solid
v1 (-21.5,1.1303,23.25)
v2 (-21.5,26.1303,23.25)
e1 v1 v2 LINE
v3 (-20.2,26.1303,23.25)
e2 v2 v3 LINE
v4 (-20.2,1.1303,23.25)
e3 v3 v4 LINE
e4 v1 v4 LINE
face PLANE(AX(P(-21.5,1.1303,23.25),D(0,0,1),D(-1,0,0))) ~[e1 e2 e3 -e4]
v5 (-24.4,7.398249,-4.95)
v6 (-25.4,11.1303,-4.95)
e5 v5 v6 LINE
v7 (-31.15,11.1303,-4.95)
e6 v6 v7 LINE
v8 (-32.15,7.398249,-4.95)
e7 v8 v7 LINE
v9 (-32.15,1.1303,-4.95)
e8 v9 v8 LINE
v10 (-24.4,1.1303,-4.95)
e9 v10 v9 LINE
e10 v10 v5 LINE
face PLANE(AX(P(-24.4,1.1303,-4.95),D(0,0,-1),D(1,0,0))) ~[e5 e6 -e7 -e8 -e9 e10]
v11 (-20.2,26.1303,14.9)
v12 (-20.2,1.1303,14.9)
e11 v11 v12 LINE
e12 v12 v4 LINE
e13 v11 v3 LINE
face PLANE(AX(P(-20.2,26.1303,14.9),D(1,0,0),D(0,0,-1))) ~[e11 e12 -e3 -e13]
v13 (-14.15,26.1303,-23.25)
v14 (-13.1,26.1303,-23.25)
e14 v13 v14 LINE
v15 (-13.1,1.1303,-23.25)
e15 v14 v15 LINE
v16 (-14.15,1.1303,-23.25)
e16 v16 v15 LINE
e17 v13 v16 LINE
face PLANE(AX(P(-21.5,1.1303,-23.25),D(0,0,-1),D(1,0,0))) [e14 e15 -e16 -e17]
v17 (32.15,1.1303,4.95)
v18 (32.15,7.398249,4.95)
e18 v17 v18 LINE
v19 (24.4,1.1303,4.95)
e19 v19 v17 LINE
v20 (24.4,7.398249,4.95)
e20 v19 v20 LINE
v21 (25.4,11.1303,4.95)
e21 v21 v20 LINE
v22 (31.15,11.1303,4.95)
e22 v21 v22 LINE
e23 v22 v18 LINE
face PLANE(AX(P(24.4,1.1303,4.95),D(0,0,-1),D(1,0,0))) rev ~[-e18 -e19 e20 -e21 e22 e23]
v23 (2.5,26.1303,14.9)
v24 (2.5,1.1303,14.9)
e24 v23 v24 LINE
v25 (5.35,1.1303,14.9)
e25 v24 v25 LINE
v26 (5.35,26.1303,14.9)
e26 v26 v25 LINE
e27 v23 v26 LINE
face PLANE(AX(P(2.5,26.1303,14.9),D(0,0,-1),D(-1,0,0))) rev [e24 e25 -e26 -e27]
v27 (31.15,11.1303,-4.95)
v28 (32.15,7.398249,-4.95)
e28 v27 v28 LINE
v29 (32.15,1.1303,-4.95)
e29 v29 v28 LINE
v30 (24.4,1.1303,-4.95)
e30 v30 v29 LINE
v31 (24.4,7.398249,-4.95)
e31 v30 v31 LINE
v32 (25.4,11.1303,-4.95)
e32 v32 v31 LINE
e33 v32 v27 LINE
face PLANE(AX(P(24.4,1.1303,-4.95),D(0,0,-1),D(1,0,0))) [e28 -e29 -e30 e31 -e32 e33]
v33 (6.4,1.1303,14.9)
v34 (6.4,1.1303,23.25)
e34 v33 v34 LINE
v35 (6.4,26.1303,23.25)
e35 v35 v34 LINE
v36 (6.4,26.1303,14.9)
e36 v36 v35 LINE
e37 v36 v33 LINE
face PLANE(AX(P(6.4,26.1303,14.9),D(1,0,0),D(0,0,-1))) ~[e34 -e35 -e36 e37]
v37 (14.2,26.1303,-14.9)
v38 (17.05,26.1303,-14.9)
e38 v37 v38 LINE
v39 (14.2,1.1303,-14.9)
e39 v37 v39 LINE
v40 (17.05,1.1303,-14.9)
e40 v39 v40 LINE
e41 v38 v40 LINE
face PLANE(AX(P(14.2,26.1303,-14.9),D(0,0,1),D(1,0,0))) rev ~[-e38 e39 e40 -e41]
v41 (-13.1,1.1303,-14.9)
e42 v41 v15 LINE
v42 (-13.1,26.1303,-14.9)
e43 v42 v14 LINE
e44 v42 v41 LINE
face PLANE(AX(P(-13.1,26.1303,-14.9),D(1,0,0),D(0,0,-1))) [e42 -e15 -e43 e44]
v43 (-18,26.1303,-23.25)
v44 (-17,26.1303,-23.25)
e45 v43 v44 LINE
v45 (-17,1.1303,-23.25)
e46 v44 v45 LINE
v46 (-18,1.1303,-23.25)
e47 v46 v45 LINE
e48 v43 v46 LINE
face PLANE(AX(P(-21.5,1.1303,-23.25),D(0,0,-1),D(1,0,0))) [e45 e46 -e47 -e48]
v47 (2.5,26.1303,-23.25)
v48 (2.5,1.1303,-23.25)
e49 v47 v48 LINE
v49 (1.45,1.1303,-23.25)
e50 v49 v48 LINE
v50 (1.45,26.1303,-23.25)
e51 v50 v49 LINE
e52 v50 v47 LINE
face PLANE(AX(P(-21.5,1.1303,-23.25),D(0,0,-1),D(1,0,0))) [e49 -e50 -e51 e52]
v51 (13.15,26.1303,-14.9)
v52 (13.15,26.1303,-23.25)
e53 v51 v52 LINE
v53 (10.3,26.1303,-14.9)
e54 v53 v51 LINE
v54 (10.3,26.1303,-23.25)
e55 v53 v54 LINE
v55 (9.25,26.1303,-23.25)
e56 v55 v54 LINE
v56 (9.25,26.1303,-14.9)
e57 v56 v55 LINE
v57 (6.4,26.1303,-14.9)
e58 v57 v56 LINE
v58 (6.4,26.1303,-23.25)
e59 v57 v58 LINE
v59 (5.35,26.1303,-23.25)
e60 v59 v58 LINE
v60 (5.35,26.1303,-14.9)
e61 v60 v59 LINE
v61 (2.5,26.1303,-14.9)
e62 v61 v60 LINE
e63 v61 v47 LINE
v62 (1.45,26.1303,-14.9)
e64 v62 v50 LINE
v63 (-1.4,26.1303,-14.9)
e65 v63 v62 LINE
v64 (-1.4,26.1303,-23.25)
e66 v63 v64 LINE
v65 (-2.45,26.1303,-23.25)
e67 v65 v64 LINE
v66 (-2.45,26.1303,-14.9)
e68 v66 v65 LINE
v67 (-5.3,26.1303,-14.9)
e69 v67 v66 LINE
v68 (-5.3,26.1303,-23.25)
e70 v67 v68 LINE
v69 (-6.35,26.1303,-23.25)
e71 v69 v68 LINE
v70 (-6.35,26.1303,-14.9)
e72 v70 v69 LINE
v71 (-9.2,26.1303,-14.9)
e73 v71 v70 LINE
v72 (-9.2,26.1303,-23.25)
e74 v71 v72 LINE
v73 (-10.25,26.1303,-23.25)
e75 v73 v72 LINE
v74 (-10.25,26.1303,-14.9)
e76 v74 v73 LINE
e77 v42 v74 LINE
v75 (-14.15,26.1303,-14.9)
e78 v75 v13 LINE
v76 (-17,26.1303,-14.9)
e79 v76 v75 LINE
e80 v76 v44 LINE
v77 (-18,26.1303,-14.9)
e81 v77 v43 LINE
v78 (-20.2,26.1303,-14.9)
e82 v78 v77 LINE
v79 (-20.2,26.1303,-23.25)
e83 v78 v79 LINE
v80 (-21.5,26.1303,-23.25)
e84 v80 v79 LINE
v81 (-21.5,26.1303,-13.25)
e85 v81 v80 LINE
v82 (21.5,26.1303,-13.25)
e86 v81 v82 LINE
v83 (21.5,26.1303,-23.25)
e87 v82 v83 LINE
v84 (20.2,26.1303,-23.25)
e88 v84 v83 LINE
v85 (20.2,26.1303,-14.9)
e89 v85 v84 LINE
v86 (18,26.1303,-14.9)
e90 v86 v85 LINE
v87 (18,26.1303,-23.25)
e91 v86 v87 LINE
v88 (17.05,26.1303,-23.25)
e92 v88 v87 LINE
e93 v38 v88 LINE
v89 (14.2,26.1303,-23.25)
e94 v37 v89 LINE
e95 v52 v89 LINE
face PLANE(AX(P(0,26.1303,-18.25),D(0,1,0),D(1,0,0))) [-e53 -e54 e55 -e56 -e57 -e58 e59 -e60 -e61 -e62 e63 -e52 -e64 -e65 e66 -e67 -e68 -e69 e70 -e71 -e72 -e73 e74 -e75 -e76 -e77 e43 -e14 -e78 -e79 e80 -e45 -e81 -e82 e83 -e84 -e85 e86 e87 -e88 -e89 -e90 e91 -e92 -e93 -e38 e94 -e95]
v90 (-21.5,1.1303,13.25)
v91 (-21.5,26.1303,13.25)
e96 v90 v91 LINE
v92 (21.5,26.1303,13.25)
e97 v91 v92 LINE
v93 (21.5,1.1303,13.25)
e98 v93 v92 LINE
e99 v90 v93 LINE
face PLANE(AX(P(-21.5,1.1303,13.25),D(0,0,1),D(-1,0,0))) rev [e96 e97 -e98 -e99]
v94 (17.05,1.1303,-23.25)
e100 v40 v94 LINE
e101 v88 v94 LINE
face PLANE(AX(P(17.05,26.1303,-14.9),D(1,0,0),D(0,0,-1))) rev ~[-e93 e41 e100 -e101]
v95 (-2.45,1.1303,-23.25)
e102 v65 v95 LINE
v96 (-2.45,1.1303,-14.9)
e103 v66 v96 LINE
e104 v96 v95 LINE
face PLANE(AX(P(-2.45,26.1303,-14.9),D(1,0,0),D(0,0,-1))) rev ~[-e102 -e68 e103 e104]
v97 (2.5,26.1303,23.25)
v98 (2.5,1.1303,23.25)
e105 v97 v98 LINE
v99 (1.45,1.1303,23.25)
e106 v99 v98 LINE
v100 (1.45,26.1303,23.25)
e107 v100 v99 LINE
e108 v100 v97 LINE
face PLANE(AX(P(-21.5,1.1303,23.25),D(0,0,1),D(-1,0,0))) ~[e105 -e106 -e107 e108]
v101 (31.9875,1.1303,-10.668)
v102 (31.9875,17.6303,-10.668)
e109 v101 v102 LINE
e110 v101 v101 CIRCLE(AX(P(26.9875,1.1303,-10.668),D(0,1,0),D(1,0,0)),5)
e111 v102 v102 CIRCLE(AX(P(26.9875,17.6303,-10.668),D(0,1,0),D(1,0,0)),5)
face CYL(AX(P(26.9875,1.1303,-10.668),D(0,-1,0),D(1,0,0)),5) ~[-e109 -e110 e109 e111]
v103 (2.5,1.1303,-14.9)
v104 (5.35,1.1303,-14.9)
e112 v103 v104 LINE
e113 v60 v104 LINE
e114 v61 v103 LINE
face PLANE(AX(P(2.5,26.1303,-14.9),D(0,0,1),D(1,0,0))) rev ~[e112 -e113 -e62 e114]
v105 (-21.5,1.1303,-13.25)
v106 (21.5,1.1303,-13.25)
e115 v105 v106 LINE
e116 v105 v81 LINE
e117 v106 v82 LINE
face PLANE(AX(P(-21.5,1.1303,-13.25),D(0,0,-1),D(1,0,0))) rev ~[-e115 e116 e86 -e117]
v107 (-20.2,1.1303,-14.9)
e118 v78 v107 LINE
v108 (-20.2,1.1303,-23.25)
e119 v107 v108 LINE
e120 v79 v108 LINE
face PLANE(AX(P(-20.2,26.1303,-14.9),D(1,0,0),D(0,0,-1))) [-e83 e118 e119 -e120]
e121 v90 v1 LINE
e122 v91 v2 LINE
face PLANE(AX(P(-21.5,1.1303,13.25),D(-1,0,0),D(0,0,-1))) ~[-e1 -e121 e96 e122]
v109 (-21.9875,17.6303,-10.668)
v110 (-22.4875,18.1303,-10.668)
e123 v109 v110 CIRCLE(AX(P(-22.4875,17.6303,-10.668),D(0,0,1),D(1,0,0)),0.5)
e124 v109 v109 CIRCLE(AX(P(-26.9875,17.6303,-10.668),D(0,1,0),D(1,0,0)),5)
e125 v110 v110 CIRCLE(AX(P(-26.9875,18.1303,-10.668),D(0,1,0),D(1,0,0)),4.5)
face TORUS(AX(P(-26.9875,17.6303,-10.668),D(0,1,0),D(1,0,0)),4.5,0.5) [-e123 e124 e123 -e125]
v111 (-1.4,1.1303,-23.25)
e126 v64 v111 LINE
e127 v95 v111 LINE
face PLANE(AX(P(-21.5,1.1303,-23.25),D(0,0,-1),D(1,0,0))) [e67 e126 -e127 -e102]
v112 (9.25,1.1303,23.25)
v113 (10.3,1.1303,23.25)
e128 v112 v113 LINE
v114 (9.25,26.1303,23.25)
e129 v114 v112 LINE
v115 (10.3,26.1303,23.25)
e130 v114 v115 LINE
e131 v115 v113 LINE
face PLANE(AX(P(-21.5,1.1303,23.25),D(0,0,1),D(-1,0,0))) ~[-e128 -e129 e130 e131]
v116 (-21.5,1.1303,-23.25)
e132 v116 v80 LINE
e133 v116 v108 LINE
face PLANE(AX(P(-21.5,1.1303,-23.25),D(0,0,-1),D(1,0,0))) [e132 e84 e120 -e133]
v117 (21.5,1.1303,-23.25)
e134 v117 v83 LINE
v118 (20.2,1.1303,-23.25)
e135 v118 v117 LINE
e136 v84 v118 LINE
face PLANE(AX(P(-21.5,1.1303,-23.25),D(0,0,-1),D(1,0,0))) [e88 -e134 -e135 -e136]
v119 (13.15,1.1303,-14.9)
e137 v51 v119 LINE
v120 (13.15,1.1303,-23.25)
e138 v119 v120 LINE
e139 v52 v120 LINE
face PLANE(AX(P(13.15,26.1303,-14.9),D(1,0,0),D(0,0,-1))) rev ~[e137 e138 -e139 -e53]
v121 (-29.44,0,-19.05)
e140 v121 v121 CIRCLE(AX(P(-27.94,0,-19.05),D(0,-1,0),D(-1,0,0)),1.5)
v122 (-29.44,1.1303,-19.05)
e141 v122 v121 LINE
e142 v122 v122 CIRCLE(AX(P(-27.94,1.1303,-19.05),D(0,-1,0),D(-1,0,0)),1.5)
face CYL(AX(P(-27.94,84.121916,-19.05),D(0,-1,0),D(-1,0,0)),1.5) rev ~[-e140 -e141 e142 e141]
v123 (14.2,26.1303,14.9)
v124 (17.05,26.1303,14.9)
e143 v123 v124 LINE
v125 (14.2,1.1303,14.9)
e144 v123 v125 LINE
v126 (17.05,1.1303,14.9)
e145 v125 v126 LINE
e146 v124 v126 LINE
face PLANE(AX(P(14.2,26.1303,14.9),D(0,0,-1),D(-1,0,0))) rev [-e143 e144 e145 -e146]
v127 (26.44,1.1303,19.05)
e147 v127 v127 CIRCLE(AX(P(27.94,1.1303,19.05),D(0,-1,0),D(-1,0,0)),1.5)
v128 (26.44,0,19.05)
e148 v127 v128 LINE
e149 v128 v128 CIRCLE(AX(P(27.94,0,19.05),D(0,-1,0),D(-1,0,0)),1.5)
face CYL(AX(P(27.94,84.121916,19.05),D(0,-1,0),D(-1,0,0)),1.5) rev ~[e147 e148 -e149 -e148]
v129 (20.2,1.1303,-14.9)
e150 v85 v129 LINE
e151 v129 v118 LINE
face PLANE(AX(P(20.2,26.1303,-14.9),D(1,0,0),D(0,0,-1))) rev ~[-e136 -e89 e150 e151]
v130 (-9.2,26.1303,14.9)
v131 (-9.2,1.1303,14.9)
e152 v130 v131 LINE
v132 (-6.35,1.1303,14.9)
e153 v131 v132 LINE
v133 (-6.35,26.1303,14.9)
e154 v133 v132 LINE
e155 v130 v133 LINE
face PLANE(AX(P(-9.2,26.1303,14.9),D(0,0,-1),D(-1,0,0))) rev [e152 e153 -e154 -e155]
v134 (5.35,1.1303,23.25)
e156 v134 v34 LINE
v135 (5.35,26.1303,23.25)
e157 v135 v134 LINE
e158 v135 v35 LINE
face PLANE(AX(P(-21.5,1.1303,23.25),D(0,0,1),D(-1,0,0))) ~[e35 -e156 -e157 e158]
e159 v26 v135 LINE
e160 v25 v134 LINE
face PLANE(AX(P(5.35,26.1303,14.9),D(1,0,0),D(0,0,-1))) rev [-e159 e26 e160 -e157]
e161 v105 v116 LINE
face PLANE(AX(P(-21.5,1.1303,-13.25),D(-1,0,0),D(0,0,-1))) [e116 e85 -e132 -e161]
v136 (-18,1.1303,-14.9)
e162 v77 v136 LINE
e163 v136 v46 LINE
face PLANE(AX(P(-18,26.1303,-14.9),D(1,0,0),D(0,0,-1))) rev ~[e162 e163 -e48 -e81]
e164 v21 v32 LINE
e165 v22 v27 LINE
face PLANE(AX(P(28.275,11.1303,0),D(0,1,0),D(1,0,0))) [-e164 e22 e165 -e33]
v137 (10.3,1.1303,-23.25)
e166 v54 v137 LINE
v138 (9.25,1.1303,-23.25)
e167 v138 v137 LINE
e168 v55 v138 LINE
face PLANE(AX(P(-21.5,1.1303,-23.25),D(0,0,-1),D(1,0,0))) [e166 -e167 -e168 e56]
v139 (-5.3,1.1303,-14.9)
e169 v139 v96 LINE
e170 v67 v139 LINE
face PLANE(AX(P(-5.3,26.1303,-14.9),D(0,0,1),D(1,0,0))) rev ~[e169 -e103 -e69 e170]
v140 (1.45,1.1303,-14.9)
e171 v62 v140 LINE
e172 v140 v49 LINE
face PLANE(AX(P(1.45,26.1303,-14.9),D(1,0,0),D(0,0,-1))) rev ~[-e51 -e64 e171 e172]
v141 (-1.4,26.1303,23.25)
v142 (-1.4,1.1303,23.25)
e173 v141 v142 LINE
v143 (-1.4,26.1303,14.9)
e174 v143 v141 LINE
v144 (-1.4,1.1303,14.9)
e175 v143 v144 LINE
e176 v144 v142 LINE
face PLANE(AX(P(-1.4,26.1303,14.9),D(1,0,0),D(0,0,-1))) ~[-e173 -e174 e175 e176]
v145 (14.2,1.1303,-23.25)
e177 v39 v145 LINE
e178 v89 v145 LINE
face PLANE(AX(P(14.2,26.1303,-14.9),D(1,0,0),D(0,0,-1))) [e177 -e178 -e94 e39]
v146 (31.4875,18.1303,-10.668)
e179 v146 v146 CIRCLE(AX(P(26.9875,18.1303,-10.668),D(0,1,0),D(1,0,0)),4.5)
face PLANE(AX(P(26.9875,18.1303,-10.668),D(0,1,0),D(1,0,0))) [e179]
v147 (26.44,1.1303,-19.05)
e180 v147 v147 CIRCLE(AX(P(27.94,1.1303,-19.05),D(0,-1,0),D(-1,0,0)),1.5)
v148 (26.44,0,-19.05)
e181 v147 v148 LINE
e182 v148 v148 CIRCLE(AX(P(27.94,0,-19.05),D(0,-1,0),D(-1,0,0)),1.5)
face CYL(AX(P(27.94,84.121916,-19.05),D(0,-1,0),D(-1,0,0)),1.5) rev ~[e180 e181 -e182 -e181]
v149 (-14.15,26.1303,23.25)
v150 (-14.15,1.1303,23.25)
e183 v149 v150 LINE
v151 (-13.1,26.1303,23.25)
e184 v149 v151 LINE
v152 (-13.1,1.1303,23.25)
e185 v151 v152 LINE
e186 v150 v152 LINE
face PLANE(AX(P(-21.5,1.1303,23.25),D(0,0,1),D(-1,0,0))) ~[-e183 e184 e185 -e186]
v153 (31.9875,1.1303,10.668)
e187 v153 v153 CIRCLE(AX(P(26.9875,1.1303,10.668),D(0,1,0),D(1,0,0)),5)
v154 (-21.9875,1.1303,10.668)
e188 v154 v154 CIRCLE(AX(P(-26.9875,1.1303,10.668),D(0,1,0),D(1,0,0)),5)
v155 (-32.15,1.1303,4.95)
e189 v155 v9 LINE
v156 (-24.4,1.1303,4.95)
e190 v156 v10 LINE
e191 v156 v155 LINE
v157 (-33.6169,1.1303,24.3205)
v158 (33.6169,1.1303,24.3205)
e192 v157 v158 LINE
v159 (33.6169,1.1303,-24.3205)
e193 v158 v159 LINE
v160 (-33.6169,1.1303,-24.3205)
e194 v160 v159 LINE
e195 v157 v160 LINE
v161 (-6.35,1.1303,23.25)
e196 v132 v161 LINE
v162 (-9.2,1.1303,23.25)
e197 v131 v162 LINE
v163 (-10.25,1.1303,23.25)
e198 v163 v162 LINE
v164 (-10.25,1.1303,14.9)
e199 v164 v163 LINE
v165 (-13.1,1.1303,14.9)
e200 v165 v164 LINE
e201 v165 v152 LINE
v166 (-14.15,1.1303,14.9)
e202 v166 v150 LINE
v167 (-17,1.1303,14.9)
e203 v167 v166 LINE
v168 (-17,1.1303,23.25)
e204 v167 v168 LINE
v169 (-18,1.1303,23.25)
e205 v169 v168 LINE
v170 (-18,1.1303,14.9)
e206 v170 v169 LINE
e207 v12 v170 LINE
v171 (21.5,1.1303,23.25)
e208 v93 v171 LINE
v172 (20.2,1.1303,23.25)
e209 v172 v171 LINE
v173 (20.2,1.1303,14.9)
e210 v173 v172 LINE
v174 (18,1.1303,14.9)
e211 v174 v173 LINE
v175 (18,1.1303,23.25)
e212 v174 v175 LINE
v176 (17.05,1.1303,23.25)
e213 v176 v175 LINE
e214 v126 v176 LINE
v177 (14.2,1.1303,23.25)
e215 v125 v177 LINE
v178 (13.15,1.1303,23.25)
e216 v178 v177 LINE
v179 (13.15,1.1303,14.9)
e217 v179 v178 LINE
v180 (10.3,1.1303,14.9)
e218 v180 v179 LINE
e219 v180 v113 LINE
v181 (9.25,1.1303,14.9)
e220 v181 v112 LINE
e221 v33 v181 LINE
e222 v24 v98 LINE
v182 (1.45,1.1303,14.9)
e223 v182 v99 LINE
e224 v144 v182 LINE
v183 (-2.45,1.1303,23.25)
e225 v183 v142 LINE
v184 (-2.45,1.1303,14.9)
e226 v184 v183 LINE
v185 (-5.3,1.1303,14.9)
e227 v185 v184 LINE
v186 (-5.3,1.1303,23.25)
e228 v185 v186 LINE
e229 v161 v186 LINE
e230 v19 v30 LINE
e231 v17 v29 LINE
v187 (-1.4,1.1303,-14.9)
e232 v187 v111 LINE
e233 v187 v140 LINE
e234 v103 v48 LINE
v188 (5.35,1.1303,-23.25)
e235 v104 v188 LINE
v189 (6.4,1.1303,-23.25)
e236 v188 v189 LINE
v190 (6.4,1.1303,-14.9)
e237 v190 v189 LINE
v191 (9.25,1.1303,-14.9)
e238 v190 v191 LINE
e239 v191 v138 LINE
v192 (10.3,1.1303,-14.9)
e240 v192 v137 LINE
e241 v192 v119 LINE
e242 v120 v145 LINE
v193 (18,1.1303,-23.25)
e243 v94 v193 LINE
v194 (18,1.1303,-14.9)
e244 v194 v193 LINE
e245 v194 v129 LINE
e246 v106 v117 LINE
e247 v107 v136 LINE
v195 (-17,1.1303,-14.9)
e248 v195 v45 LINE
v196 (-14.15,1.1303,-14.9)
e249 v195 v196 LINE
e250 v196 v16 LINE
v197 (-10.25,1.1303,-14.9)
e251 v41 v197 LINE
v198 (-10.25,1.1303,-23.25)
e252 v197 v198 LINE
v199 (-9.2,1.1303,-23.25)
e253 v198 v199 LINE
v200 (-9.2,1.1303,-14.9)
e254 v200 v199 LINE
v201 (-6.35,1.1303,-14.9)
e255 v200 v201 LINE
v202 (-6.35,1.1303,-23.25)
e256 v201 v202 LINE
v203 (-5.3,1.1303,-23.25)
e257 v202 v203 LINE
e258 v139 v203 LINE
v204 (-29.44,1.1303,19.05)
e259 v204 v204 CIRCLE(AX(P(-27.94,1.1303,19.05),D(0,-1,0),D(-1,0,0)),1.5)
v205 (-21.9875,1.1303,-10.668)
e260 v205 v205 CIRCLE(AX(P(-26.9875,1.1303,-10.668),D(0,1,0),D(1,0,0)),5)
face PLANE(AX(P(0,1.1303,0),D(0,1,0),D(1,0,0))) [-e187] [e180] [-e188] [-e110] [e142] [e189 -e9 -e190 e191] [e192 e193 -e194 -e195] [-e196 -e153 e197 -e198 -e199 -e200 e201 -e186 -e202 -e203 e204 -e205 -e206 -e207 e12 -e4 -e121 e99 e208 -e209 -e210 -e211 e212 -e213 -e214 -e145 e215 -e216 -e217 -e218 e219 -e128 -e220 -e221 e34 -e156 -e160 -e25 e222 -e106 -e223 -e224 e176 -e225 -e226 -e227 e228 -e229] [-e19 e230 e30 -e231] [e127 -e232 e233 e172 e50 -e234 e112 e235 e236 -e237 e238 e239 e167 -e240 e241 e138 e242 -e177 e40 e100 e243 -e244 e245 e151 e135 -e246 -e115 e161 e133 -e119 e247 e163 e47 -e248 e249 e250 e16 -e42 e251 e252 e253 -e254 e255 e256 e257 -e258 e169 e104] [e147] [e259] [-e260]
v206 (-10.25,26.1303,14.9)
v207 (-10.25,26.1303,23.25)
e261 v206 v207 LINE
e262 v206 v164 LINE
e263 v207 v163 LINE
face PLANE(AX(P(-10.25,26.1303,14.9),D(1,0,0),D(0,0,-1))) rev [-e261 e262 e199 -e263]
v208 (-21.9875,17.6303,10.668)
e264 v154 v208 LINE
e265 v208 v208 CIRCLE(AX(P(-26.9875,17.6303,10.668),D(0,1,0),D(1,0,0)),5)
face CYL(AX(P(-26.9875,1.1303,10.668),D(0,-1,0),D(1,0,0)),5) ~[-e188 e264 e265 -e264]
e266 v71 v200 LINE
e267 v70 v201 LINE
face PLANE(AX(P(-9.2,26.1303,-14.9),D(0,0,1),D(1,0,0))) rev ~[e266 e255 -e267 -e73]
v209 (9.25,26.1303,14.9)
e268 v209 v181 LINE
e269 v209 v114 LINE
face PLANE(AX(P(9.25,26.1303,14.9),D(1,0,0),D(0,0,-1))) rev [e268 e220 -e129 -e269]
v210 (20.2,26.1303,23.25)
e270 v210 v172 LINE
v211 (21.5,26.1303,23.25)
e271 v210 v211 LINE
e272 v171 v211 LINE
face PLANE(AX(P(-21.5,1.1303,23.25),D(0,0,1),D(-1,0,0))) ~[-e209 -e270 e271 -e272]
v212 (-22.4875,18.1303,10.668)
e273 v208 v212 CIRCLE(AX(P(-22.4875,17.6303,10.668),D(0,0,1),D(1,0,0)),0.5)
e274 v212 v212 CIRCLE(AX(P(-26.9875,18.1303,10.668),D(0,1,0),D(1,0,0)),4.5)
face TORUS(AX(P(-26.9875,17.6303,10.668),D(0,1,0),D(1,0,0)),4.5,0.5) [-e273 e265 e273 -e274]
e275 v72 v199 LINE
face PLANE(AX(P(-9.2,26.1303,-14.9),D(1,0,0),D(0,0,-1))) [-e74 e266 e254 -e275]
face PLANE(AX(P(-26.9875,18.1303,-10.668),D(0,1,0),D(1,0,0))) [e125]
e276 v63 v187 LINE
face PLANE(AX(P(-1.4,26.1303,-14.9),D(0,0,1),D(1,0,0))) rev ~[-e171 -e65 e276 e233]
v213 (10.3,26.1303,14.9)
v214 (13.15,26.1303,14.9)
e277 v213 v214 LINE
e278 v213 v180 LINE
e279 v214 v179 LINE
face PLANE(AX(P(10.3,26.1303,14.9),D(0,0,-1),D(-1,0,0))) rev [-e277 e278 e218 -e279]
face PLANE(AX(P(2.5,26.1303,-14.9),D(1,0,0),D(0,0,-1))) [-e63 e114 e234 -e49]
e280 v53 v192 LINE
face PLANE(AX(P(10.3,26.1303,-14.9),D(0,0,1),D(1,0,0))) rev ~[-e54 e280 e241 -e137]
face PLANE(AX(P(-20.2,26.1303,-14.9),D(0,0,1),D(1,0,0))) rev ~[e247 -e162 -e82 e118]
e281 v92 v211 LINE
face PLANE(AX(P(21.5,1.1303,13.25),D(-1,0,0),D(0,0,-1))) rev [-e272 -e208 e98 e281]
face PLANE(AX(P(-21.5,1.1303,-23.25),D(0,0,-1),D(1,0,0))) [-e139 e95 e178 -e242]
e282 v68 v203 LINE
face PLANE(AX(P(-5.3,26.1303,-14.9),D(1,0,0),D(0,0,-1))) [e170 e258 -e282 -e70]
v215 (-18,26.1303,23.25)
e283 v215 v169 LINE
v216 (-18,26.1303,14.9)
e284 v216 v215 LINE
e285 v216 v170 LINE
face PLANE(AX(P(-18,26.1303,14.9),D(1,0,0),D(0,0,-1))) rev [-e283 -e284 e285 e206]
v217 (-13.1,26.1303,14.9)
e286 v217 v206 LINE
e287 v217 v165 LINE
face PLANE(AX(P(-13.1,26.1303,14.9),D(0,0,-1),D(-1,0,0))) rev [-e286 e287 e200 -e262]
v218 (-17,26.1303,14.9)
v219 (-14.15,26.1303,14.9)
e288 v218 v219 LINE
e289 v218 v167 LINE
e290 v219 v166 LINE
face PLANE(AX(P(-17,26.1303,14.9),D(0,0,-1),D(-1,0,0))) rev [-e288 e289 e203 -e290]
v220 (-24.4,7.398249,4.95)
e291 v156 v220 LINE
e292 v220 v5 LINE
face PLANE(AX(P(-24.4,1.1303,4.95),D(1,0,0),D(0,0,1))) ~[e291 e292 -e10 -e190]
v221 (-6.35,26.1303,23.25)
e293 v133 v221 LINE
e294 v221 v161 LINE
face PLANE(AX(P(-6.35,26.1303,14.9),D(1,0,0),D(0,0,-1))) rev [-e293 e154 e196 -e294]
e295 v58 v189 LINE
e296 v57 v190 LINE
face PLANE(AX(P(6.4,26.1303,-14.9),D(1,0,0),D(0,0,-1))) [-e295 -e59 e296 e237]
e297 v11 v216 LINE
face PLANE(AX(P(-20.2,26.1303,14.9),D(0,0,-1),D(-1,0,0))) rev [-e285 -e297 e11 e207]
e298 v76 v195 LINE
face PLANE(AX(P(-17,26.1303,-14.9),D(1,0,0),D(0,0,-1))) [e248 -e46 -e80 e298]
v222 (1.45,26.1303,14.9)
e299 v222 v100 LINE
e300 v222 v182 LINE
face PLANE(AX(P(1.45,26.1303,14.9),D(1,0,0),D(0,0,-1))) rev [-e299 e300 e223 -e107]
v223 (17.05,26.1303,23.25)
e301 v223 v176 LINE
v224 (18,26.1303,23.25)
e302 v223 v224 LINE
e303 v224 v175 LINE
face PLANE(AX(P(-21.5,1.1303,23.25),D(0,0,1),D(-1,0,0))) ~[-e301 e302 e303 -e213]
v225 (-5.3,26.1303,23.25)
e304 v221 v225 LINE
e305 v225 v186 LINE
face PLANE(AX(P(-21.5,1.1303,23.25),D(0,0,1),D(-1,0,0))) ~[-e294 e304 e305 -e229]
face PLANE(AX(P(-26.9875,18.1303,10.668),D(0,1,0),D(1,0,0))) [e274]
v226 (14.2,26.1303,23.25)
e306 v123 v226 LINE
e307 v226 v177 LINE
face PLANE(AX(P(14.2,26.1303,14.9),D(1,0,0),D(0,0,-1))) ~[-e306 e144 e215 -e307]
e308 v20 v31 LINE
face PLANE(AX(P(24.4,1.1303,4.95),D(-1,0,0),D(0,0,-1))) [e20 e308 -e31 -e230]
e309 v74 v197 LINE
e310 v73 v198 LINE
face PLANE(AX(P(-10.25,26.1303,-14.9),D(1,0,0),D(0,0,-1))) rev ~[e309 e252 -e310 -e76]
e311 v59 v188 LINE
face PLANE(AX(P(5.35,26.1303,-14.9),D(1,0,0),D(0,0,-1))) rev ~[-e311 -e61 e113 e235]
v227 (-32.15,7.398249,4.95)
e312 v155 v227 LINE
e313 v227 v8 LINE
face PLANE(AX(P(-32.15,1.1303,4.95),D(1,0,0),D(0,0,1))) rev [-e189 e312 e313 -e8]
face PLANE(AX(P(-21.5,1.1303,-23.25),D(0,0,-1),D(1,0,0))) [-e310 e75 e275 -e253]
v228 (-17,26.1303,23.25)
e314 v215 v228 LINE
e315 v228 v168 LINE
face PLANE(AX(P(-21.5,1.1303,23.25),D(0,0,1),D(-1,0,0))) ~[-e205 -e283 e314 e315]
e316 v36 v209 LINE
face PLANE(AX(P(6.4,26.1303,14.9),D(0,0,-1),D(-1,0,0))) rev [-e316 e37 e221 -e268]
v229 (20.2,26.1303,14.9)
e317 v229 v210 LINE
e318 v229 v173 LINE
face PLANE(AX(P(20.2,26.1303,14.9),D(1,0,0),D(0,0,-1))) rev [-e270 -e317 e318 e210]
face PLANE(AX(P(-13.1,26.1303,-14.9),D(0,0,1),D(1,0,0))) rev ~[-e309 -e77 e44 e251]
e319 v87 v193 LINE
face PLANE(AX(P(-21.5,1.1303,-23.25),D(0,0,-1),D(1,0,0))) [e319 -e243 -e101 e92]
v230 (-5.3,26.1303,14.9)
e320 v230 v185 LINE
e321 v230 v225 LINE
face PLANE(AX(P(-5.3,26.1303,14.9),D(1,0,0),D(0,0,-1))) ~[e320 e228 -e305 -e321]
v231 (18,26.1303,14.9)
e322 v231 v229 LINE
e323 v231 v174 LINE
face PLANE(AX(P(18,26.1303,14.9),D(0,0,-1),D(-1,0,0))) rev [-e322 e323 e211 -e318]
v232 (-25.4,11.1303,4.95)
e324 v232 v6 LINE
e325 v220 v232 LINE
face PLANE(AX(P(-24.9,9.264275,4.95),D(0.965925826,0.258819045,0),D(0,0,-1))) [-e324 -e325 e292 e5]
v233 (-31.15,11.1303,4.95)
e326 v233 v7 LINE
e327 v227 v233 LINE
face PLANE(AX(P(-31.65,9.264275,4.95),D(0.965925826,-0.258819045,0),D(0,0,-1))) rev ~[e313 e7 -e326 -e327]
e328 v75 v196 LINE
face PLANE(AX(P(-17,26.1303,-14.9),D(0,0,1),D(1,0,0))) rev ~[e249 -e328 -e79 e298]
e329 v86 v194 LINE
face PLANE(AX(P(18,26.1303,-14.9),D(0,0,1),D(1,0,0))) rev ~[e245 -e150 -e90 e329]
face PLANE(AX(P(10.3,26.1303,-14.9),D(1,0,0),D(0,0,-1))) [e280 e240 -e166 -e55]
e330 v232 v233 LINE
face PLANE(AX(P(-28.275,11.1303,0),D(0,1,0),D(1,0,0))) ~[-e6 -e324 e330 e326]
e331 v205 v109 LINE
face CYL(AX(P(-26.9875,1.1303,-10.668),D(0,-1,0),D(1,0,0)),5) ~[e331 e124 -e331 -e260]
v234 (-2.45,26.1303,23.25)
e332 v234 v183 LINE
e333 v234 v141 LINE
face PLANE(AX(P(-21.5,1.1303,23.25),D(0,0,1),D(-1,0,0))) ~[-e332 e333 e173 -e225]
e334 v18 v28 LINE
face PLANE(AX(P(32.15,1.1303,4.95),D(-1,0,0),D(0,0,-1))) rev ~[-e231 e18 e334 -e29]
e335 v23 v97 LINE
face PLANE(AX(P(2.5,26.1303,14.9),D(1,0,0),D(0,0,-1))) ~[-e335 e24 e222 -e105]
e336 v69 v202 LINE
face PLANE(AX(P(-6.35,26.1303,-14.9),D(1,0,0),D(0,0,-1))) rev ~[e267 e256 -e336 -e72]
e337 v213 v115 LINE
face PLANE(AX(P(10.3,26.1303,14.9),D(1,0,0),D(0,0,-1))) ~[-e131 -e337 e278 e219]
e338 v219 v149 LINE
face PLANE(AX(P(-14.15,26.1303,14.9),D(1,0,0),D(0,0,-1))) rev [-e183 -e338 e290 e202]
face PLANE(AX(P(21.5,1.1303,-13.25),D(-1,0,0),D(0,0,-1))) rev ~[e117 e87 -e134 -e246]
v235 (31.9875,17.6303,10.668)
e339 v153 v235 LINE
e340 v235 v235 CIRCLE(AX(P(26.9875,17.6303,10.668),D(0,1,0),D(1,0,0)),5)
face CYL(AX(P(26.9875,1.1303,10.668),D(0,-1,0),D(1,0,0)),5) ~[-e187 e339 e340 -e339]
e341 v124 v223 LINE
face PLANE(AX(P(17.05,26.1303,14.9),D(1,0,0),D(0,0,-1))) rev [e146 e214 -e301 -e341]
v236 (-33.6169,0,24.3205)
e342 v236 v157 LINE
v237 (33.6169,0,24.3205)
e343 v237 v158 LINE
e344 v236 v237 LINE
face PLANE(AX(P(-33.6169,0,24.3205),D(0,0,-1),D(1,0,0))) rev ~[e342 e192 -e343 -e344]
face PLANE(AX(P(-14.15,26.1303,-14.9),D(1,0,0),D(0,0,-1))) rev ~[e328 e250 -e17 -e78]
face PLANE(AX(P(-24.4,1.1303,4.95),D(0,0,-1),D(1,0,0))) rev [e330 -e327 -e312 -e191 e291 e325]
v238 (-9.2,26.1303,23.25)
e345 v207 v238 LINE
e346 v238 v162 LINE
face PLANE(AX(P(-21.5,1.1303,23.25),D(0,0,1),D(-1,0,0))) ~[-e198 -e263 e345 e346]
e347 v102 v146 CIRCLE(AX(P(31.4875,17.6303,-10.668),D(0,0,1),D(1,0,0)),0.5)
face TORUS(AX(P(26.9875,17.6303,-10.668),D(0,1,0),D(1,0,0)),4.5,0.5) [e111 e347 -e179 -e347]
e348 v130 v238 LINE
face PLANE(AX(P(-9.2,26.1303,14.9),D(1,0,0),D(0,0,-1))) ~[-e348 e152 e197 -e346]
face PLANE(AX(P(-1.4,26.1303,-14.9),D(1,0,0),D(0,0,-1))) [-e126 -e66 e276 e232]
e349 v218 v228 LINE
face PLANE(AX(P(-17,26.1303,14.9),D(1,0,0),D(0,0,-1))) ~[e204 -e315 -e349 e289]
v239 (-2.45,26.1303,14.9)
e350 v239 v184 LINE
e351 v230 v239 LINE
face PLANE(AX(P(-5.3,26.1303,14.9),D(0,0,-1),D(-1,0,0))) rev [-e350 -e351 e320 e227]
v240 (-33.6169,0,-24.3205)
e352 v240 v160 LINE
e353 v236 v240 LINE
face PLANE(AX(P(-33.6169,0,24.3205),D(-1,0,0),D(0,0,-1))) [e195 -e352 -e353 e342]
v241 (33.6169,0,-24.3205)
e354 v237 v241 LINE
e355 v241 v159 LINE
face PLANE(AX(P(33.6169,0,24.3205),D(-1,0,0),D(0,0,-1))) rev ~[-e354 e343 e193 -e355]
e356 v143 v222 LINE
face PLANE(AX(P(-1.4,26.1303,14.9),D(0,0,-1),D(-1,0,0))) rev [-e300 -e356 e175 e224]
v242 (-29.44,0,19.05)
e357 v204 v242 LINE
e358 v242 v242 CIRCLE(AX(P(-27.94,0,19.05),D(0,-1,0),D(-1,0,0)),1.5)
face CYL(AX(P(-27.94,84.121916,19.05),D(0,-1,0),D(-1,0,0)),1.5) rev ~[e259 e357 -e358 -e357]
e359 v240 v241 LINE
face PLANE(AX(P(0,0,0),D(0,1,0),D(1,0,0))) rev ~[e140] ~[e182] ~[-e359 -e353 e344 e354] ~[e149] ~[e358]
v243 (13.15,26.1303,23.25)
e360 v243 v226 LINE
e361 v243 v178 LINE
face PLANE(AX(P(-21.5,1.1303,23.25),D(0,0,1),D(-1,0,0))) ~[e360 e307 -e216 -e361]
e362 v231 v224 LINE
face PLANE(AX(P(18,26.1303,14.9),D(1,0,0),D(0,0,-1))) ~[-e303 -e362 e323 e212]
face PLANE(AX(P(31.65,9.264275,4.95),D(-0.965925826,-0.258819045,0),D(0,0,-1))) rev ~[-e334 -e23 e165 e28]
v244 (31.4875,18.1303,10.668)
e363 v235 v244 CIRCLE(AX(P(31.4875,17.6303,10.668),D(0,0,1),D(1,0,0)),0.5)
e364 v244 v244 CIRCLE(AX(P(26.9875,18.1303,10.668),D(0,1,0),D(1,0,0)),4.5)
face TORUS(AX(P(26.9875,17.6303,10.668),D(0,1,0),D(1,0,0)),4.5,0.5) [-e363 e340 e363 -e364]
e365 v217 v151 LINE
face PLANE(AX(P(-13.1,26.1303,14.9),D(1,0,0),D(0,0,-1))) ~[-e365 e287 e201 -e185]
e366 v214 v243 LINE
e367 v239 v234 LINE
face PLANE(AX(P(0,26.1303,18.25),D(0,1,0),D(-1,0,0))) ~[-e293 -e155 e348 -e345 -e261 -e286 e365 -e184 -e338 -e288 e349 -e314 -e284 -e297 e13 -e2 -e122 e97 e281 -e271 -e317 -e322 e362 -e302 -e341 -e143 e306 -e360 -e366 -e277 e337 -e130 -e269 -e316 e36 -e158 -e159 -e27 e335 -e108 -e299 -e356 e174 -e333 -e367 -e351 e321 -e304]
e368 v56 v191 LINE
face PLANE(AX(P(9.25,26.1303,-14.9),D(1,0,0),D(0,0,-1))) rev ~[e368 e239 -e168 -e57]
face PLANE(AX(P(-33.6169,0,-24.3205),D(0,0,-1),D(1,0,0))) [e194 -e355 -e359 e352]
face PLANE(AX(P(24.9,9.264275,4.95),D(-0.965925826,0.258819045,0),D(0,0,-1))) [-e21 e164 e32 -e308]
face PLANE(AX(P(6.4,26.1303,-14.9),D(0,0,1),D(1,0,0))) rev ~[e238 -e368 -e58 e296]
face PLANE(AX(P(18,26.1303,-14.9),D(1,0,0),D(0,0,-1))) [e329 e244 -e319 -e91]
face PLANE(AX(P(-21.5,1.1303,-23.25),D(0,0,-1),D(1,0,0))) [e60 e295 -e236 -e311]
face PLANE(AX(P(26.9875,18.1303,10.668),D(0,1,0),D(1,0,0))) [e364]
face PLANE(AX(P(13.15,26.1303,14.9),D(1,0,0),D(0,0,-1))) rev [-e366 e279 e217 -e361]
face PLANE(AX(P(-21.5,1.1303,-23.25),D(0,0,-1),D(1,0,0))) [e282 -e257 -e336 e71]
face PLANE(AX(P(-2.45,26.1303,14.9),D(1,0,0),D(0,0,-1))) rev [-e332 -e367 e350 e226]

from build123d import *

# Parameters (mm, degrees)
SKETCH1_W                 = 67.2338
SKETCH1_H                 = 48.641
BOSS_EXTRUDE1_DEPTH       = 1.1303
F_3_0MM_DOWEL_HOLE1_D     = 3
SKETCH5_R                 = 5
BOSS_EXTRUDE2_DEPTH       = 17
FILLET1_R                 = 0.5
SKETCH6_W                 = 43
SKETCH6_H                 = 10
BOSS_EXTRUDE3_DEPTH       = 25
SKETCH7_W                 = 2.2
SKETCH7_H                 = 8.35
SKETCH7_W_2               = 2.85
CUT_EXTRUDE1_DEPTH        = 25
SKETCH8_W                 = 7.75
SKETCH8_H                 = 9.9
BOSS_EXTRUDE4_DEPTH       = 10
CHAMFER1_SIZE             = 1
CHAMFER1_SIZE2            = 3.732050808
CHAMFER1_OF_MIRROR2_SIZE2 = 1
CHAMFER1_OF_MIRROR2_SIZE  = 3.732050808


with BuildPart() as part:
    # Sketch1 → Boss-Extrude1 (new body)
    with BuildSketch(Plane(origin=(0, 0, 0), x_dir=(1, 0, 0), z_dir=(0, 1, 0))):
        Rectangle(SKETCH1_W, SKETCH1_H)
    extrude(amount=BOSS_EXTRUDE1_DEPTH)

    # Ø3.0mm Dowel Hole1 (through all)
    with Locations(Plane(origin=(0, 1.1303, 0), x_dir=(1, 0, 0), z_dir=(0, 1, 0))):
        with Locations((-27.94, -19.05), (-27.94, 19.05), (27.94, 19.05), (27.94, -19.05)):
            Hole(F_3_0MM_DOWEL_HOLE1_D / 2)

    # Sketch5 → Boss-Extrude2 (add)
    with BuildSketch(Plane(origin=(0, 1.1303, 0), x_dir=(1, 0, 0), z_dir=(0, 1, 0))):
        with Locations((-26.9875, 10.668)):
            Circle(SKETCH5_R)
        with Locations((-26.9875, -10.668)):
            Circle(SKETCH5_R)
        with Locations((26.9875, 10.668)):
            Circle(SKETCH5_R)
        with Locations((26.9875, -10.668)):
            Circle(SKETCH5_R)
    extrude(amount=BOSS_EXTRUDE2_DEPTH)

    # Fillet1
    fillet1_edges = [part.edges().sort_by_distance(p)[0] for p in [
        (-31.9875, 18.1303, -10.668),
        (-31.9875, 18.1303, 10.668),
        (21.9875, 18.1303, -10.668),
        (21.9875, 18.1303, 10.668),
    ]]
    fillet(fillet1_edges, radius=FILLET1_R)

    # Sketch6 → Boss-Extrude3 (add)
    with BuildSketch(Plane(origin=(0, 1.1303, 0), x_dir=(1, 0, 0), z_dir=(0, 1, 0))):
        with Locations((0, 18.25)):
            Rectangle(SKETCH6_W, SKETCH6_H)
    boss_extrude3 = extrude(amount=BOSS_EXTRUDE3_DEPTH)

    # Sketch7 → Cut-Extrude1 (cut)
    with BuildSketch(Plane(origin=(0, 26.1303, 0), x_dir=(1, 0, 0), z_dir=(0, 1, 0))):
        with Locations((-19.1, 19.075)):
            Rectangle(SKETCH7_W, SKETCH7_H)
        with Locations((-15.575, 19.075)):
            Rectangle(SKETCH7_W_2, SKETCH7_H)
        with Locations((19.1, 19.075)):
            Rectangle(SKETCH7_W, SKETCH7_H)
        with Locations((-11.675, 19.075)):
            Rectangle(SKETCH7_W_2, SKETCH7_H)
        with Locations((-7.775, 19.075)):
            Rectangle(SKETCH7_W_2, SKETCH7_H)
        with Locations((-3.875, 19.075)):
            Rectangle(SKETCH7_W_2, SKETCH7_H)
        with Locations((0.025, 19.075)):
            Rectangle(SKETCH7_W_2, SKETCH7_H)
        with Locations((3.925, 19.075)):
            Rectangle(SKETCH7_W_2, SKETCH7_H)
        with Locations((7.825, 19.075)):
            Rectangle(SKETCH7_W_2, SKETCH7_H)
        with Locations((11.725, 19.075)):
            Rectangle(SKETCH7_W_2, SKETCH7_H)
        with Locations((15.625, 19.075)):
            Rectangle(SKETCH7_W_2, SKETCH7_H)
    cut_extrude1 = extrude(amount=-CUT_EXTRUDE1_DEPTH, mode=Mode.SUBTRACT)

    # Mirror1: Boss-Extrude3, Cut-Extrude1 across plane
    add(boss_extrude3.mirror(Plane.XY))
    add(cut_extrude1.mirror(Plane.XY), mode=Mode.SUBTRACT)

    # Sketch8 → Boss-Extrude4 (add)
    with BuildSketch(Plane(origin=(0, 1.1303, 0), x_dir=(1, 0, 0), z_dir=(0, 1, 0))):
        with Locations((28.275, 0)):
            Rectangle(SKETCH8_W, SKETCH8_H)
    boss_extrude4 = extrude(amount=BOSS_EXTRUDE4_DEPTH)

    # Chamfer1
    chamfer1_edges = [part.edges().sort_by_distance(p)[0] for p in [
        (24.4, 11.1303, 0),
        (32.15, 11.1303, 0),
    ]]
    chamfer1_side = [part.faces().sort_by_distance(p)[0] for p in [
        (28.275, 11.1303, 0),
    ]]
    chamfer(chamfer1_edges, length=CHAMFER1_SIZE, length2=CHAMFER1_SIZE2, reference=chamfer1_side[0])

    # Mirror2: Boss-Extrude4 across plane
    add(boss_extrude4.mirror(Plane(origin=(0, 0, 0), x_dir=(0, 0, 1), z_dir=(1, 0, 0))))

    # Chamfer1 of Mirror2
    chamfer1_of_mirror2_edges = [part.edges().sort_by_distance(p)[0] for p in [
        (-24.4, 11.1303, 0),
        (-32.15, 11.1303, 0),
    ]]
    chamfer(chamfer1_of_mirror2_edges, length=CHAMFER1_OF_MIRROR2_SIZE, length2=CHAMFER1_OF_MIRROR2_SIZE2)


solid = part.part
